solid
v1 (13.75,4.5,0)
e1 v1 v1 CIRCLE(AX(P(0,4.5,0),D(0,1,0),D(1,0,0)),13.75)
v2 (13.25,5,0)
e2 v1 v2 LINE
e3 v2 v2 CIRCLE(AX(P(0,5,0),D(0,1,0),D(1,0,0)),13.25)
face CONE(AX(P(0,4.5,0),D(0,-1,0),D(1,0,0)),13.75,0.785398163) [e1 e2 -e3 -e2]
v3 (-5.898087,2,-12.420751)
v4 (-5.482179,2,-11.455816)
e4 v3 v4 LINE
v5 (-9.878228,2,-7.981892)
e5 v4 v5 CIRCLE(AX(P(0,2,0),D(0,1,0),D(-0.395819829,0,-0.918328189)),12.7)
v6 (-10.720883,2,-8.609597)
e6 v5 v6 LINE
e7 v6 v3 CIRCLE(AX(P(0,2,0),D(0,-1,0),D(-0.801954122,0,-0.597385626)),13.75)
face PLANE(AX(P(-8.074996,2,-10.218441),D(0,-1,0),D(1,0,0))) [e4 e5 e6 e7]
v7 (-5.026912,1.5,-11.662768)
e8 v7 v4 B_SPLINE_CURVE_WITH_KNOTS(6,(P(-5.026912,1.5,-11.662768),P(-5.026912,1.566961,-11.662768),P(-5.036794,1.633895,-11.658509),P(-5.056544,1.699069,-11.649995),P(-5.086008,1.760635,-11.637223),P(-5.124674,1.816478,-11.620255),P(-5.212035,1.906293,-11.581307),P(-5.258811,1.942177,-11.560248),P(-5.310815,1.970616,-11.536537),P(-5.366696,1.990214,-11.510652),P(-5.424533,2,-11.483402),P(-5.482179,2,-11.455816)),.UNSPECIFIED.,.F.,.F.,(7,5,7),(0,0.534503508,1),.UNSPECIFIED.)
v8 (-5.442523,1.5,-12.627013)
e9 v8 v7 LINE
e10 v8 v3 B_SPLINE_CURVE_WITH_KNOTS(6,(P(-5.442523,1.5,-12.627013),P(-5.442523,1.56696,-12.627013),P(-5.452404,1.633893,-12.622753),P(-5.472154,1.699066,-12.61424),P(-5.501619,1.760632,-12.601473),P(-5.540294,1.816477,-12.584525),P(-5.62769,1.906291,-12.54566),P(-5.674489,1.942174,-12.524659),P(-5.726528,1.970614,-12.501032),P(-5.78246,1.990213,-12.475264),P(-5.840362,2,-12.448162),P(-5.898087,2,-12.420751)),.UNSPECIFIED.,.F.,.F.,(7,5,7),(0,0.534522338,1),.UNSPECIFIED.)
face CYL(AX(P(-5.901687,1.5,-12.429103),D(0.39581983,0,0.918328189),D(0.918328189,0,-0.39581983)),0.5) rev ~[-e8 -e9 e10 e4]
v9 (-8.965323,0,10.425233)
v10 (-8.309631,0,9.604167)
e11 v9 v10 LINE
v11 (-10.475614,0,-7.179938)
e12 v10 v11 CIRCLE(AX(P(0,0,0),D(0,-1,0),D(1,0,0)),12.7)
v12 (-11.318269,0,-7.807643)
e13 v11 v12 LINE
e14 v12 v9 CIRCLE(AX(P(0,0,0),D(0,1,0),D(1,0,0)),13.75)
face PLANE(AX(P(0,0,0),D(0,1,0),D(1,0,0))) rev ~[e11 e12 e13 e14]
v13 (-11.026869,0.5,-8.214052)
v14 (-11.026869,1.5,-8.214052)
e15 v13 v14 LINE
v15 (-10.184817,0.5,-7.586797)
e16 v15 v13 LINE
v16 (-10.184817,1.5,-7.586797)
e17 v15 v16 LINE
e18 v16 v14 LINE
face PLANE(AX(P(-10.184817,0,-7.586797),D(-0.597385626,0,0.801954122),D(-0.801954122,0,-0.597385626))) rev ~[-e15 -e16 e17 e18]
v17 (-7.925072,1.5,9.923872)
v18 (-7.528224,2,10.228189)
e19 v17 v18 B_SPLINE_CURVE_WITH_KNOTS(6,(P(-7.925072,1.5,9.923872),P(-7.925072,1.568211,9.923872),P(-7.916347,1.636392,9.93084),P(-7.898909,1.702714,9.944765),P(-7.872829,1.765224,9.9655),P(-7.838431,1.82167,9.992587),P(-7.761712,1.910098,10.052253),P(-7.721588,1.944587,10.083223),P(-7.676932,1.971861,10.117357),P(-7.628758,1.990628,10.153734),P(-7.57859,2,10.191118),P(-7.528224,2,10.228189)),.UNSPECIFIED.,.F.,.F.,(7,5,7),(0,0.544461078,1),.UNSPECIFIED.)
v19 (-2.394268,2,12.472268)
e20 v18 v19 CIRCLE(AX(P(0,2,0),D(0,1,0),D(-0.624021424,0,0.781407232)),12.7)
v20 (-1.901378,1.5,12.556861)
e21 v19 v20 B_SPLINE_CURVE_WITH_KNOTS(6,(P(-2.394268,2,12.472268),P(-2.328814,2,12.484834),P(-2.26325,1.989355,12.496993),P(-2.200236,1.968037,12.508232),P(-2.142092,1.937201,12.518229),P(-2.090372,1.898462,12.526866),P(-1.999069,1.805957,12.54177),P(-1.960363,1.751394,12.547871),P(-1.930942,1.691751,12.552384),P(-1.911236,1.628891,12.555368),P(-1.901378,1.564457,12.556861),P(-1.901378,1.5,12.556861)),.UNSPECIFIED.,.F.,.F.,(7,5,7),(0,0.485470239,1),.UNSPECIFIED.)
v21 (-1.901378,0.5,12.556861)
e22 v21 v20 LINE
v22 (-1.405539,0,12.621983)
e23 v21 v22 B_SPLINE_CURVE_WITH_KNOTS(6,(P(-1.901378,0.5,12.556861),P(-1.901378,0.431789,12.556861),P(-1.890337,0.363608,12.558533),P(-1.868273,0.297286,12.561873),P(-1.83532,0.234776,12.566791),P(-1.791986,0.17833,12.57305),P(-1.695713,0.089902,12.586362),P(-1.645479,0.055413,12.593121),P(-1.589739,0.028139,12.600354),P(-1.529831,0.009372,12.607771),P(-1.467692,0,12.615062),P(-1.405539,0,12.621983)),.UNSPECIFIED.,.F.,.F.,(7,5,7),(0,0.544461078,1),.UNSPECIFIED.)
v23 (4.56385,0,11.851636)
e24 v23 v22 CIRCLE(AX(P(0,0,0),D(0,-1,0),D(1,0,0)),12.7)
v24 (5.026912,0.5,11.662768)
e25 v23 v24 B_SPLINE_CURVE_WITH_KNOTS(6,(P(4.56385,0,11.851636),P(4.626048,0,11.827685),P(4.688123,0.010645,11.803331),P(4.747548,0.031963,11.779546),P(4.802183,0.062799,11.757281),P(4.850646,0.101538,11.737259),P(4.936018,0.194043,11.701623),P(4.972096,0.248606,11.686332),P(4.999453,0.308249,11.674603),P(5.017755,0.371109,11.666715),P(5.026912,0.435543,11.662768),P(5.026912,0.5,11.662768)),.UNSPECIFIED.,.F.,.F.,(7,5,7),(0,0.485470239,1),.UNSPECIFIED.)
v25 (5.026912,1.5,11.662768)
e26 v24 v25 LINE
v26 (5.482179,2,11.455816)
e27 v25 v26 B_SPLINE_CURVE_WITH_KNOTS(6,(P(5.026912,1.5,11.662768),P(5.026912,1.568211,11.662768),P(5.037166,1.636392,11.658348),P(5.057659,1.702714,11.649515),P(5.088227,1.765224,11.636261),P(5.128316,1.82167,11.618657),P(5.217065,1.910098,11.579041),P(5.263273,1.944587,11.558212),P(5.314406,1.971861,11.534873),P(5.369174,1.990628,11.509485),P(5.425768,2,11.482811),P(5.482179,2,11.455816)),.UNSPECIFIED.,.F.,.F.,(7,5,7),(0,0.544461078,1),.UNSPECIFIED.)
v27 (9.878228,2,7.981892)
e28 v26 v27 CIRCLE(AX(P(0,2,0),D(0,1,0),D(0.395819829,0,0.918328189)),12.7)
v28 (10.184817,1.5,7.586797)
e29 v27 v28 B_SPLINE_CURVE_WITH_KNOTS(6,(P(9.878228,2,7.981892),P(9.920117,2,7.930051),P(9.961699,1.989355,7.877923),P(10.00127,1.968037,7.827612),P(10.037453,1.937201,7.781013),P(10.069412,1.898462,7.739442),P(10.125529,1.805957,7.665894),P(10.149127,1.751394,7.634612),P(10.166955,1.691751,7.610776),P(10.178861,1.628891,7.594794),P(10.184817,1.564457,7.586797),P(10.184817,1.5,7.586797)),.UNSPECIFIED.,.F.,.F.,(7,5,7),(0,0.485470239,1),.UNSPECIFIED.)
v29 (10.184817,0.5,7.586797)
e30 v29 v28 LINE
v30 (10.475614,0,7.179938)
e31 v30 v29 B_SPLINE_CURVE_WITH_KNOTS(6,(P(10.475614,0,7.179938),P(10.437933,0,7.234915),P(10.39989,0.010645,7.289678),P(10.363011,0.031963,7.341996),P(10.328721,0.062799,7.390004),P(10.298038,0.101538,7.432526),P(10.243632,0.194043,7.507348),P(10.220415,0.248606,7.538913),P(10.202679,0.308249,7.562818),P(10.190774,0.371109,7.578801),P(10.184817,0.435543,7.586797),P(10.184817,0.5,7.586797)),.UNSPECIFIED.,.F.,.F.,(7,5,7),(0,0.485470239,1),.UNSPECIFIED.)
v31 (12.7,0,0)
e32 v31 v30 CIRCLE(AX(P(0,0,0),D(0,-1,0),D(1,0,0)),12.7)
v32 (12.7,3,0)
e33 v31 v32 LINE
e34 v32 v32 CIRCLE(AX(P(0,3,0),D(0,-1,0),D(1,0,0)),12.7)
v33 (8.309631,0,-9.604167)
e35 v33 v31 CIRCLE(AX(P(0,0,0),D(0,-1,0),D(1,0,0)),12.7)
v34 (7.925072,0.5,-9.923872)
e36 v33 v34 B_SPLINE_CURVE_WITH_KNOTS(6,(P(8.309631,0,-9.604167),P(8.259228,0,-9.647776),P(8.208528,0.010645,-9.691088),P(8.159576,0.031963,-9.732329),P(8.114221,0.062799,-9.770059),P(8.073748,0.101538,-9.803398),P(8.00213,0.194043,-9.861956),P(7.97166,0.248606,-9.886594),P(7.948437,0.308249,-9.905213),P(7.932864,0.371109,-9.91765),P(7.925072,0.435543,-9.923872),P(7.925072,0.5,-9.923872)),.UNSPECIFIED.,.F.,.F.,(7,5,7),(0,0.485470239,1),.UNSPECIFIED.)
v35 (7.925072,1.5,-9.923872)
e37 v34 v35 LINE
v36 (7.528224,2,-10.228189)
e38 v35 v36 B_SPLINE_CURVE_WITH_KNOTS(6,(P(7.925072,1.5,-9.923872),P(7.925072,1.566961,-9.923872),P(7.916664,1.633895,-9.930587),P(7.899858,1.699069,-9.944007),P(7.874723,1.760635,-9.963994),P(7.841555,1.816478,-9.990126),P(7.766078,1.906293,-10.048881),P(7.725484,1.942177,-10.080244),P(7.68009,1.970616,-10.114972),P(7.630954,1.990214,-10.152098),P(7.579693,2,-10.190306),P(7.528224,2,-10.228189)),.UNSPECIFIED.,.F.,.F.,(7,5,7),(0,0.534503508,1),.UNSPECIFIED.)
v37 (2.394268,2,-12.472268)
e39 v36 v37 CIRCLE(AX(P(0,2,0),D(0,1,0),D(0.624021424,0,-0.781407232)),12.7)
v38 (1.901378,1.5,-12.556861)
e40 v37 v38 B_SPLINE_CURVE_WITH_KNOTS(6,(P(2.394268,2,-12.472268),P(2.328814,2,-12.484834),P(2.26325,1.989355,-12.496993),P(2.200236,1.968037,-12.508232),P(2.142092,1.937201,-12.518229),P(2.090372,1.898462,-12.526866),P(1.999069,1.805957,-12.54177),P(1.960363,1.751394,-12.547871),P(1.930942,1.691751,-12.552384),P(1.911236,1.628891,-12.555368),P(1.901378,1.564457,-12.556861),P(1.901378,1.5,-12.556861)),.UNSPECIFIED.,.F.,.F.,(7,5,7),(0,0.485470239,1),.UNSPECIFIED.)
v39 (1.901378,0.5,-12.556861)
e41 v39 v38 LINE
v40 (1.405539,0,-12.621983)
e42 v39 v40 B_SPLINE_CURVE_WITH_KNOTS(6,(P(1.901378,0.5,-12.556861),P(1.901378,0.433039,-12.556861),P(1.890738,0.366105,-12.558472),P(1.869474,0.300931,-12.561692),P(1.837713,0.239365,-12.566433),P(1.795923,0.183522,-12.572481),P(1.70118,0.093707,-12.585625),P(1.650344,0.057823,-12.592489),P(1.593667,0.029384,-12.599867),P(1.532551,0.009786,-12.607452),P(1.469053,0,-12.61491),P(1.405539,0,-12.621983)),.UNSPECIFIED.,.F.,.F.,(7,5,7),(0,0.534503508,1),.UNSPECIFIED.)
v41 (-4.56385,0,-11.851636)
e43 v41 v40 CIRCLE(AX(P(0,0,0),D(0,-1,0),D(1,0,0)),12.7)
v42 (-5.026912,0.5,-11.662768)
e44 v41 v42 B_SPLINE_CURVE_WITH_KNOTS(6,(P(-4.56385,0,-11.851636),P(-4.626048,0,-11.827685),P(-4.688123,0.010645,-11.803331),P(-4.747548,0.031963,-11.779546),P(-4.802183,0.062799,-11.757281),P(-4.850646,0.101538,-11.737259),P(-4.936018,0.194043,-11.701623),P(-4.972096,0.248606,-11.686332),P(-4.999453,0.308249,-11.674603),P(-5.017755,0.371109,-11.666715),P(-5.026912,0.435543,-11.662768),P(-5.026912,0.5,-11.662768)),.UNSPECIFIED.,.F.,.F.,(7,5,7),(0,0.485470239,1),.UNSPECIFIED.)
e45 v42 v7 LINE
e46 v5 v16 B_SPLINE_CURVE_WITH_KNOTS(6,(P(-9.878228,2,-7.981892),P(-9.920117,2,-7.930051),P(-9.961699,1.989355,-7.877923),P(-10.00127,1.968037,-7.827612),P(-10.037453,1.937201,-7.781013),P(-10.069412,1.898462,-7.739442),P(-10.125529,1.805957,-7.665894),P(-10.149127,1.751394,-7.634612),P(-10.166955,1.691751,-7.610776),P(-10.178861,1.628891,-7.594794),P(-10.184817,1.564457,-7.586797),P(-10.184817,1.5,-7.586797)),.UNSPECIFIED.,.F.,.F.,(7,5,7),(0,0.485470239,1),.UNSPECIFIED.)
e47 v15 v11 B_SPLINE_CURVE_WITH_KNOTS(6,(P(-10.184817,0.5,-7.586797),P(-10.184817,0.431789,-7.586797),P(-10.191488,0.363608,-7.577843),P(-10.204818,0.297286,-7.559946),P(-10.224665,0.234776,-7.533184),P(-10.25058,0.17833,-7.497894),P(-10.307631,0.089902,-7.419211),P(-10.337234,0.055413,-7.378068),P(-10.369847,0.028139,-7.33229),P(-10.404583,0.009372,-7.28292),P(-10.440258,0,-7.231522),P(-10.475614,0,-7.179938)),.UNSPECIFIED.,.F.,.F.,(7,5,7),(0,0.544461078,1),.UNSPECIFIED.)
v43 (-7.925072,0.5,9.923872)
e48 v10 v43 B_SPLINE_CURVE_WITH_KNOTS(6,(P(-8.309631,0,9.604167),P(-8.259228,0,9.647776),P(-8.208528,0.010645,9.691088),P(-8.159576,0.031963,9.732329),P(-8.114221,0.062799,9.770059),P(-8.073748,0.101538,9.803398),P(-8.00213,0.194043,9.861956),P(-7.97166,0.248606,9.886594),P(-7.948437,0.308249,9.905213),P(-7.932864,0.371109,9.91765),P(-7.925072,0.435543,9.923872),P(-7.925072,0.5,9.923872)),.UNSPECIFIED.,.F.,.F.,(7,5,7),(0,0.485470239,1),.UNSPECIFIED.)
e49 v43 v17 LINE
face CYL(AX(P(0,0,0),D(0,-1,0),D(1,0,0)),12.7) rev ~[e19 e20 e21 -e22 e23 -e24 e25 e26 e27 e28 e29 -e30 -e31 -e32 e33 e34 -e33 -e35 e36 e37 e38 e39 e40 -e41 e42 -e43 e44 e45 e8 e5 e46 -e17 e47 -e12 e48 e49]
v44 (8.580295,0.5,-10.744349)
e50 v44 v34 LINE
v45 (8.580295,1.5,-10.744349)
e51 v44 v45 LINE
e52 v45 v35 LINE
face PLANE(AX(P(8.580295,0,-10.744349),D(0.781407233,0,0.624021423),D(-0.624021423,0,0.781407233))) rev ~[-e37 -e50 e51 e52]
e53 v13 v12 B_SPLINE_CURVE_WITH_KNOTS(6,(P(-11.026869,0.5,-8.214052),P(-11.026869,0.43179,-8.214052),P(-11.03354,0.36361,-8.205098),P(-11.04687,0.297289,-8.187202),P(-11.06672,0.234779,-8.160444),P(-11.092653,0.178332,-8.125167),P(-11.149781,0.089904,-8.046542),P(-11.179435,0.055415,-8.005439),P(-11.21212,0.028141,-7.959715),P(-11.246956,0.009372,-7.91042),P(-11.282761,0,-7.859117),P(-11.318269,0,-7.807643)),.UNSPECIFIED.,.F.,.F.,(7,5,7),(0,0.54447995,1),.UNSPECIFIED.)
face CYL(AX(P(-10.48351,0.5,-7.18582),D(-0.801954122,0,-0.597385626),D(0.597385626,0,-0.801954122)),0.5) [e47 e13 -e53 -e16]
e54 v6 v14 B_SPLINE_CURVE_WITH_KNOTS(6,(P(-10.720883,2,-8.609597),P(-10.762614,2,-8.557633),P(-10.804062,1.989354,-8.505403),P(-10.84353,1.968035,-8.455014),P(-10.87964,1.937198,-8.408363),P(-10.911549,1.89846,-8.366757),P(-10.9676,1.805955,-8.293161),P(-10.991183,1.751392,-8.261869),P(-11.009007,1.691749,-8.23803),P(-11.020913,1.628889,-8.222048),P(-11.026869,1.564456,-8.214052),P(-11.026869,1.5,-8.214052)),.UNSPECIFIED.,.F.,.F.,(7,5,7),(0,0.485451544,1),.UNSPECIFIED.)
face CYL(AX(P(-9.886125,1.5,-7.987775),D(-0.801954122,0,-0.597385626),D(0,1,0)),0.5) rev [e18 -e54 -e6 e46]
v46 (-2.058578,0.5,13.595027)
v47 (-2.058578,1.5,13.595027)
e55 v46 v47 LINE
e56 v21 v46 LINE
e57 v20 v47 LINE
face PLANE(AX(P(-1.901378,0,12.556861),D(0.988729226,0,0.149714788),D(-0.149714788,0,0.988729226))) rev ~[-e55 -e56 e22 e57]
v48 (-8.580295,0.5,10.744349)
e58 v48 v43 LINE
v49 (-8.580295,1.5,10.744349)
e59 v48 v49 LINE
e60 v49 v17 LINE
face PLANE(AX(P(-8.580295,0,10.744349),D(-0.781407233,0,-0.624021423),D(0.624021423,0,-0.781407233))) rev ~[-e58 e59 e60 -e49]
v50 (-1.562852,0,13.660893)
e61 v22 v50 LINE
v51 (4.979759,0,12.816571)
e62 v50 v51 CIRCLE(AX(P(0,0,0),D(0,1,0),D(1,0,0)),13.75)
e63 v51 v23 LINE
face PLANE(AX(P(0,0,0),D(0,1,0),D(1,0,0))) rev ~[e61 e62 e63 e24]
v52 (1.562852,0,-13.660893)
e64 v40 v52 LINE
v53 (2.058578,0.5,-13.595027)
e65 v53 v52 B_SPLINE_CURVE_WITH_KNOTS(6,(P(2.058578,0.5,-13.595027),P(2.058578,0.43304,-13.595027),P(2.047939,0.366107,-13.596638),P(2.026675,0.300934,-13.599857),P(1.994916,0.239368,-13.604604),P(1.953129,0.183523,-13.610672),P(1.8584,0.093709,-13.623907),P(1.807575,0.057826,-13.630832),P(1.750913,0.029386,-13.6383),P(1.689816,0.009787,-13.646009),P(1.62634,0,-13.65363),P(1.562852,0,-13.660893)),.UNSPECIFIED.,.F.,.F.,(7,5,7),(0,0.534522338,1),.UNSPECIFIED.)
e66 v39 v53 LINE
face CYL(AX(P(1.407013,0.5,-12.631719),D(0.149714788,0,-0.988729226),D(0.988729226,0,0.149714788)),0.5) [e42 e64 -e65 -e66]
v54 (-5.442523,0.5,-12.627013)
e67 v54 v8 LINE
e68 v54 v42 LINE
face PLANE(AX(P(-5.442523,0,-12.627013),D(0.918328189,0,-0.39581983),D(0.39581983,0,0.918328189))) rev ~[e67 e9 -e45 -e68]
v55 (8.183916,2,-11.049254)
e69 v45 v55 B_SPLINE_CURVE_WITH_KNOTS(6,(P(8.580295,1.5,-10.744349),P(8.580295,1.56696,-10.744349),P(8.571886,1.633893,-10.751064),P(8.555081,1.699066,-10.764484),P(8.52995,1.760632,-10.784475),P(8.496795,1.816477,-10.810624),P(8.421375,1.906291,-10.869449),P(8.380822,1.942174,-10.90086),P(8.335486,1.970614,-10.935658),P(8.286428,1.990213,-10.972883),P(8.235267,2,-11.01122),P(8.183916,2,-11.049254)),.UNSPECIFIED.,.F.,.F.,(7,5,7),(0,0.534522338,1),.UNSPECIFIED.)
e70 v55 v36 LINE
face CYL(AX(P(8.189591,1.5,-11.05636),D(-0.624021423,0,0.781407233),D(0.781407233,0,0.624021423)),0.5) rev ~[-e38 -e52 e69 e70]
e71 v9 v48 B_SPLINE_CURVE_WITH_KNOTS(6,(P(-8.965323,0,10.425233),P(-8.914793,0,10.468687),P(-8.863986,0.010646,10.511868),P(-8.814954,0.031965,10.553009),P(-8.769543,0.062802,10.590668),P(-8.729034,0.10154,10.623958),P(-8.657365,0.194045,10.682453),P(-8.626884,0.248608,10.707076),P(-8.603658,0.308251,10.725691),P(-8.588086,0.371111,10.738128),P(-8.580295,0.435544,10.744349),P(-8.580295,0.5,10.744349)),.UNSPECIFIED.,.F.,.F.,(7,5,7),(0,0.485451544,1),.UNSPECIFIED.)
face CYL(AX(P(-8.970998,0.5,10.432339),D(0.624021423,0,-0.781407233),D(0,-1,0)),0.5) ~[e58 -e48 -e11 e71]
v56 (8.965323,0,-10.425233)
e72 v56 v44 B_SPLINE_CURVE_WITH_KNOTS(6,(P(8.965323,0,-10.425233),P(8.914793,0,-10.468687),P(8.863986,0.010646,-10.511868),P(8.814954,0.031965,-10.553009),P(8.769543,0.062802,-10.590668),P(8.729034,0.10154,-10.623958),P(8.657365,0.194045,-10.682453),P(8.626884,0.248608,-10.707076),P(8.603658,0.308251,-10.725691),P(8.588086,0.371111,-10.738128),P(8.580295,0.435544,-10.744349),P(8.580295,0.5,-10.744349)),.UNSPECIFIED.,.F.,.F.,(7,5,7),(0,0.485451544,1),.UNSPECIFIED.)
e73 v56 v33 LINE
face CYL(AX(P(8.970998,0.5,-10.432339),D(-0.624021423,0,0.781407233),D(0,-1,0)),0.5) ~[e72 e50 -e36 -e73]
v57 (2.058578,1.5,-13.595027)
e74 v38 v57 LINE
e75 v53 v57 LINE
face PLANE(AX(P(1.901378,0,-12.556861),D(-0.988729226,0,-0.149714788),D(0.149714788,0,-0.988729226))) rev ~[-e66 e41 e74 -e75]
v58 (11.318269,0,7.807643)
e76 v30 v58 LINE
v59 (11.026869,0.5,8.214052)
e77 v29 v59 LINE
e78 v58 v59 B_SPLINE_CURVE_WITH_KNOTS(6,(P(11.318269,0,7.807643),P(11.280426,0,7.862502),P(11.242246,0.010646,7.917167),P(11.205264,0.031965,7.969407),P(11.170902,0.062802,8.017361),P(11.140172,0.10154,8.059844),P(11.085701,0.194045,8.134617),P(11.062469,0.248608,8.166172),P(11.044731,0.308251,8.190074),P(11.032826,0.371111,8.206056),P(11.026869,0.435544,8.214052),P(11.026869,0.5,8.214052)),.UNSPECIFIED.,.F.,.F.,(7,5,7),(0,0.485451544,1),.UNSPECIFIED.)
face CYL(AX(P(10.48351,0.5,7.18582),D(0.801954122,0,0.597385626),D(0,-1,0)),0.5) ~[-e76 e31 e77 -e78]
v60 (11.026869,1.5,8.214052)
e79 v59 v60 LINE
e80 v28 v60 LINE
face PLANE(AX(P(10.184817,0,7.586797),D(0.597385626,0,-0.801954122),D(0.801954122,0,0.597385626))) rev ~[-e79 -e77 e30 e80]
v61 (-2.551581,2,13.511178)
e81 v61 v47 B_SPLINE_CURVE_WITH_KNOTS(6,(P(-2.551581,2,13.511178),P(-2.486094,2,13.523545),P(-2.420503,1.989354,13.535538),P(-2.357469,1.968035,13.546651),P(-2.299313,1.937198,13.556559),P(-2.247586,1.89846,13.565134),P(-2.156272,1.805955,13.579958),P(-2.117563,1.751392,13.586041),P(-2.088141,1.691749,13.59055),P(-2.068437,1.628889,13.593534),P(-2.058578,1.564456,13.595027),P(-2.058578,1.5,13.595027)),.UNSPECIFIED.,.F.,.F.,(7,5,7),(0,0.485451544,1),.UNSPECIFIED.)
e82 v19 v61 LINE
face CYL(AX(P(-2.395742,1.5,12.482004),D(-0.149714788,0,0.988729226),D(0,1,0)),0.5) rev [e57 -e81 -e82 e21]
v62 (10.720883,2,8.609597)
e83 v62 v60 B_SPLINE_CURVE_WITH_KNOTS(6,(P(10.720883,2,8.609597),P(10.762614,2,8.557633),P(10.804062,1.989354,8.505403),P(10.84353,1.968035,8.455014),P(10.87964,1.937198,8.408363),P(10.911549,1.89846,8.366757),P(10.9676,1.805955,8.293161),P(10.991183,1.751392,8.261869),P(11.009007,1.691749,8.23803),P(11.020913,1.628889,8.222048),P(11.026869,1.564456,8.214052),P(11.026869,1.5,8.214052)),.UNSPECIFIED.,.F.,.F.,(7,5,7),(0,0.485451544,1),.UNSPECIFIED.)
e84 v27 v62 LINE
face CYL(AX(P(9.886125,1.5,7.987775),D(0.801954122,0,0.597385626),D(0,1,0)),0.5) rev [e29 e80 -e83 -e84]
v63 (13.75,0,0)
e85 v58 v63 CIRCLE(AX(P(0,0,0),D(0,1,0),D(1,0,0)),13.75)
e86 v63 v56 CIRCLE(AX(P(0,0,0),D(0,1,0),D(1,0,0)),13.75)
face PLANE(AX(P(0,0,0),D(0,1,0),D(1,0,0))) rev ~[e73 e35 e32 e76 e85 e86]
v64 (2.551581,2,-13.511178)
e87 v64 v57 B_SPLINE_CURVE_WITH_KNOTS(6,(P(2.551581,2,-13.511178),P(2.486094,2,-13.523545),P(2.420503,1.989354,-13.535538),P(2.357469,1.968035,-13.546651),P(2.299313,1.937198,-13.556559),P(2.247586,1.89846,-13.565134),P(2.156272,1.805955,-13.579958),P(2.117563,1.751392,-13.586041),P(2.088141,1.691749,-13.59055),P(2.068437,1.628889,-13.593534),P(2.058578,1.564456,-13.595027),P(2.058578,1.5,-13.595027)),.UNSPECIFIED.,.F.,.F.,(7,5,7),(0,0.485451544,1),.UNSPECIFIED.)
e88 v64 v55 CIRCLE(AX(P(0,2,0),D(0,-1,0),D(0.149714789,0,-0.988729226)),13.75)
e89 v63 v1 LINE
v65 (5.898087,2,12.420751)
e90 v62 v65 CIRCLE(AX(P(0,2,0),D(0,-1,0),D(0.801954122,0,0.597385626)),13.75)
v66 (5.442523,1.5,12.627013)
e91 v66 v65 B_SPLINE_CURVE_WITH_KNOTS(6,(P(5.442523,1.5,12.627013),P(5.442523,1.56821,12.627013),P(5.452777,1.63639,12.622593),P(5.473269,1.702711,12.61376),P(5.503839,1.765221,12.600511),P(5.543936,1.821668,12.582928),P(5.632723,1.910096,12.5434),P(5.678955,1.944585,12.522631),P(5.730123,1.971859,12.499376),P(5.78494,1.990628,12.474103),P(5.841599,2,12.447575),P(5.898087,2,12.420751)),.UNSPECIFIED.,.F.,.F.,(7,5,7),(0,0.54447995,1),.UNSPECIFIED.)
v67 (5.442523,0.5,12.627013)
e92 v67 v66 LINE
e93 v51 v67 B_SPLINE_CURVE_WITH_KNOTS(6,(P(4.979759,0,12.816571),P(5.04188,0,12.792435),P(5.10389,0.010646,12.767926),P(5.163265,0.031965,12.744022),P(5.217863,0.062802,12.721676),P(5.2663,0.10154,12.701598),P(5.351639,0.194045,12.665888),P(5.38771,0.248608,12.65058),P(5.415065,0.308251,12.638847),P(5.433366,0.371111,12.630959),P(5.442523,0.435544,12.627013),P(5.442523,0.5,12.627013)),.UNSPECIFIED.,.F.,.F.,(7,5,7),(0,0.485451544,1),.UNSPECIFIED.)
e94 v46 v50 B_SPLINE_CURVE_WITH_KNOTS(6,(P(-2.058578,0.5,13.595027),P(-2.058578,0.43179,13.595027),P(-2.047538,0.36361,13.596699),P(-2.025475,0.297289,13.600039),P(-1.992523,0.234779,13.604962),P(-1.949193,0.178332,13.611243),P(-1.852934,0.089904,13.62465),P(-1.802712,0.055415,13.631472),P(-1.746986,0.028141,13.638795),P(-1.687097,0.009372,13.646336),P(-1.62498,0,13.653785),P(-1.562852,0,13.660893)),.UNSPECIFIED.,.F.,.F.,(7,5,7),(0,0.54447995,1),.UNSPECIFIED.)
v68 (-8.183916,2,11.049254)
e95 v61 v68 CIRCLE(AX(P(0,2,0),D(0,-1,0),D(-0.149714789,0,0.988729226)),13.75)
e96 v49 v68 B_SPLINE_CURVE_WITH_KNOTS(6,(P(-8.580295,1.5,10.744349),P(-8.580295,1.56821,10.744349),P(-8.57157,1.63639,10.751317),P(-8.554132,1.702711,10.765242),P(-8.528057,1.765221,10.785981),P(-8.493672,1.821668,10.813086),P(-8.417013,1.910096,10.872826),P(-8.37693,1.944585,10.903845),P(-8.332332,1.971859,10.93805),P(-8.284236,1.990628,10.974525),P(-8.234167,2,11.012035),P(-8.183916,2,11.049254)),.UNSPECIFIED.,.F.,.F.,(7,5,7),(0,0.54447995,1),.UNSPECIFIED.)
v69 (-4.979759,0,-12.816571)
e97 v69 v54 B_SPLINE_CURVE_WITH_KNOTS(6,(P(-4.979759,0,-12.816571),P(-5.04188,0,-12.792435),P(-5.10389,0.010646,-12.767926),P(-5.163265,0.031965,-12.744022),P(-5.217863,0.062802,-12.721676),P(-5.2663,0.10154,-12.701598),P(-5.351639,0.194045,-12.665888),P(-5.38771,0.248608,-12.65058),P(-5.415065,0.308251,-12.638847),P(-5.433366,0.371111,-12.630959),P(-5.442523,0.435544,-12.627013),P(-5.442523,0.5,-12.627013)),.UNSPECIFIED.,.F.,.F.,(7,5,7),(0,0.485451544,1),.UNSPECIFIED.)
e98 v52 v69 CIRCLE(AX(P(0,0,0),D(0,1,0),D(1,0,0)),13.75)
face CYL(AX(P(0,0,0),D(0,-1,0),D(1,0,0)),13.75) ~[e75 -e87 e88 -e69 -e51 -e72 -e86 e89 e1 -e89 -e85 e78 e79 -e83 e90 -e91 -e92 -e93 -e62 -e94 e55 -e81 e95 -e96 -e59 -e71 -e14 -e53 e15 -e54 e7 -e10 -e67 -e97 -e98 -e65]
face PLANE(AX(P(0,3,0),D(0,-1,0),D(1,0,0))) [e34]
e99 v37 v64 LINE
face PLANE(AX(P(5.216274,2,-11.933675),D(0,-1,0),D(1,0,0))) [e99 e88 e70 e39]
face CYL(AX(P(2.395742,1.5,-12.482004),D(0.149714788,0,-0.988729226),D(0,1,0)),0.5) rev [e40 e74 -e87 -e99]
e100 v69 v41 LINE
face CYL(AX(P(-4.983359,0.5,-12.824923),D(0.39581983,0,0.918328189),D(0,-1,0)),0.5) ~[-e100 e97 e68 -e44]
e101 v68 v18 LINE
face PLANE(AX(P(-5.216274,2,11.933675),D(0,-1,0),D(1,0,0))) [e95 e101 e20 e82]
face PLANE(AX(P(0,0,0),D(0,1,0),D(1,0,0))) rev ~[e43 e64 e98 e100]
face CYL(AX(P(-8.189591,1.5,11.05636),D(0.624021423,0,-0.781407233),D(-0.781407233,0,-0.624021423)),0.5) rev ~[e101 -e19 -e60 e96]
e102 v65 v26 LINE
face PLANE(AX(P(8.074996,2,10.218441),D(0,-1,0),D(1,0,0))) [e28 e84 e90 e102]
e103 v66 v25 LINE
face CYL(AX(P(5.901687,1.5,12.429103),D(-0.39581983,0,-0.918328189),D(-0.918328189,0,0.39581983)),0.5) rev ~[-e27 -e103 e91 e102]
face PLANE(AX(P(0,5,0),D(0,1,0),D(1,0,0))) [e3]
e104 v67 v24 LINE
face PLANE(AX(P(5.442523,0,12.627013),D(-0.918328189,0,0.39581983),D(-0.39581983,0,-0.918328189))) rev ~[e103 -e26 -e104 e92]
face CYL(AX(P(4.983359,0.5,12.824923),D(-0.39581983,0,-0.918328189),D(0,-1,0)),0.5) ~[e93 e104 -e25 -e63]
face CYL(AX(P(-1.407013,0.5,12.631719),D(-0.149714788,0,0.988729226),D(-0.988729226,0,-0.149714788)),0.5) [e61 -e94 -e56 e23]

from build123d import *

# Parameters (mm, degrees)
SKETCH1_R           = 13.75
BOSS_EXTRUDE1_DEPTH = 5
SKETCH2_R           = 12.7
CUT_EXTRUDE1_DEPTH  = 3
CHAMFER1_SIZE       = 0.5
CUT_EXTRUDE2_DEPTH  = 2
FILLET1_R           = 0.5


with BuildPart() as part:
    # Sketch1 → Boss-Extrude1 (new body)
    with BuildSketch(Plane(origin=(0, 0, 0), x_dir=(1, 0, 0), z_dir=(0, 1, 0))):
        Circle(SKETCH1_R)
    extrude(amount=BOSS_EXTRUDE1_DEPTH)

    # Sketch2 → Cut-Extrude1 (cut)
    with BuildSketch(Plane.XZ):
        Circle(SKETCH2_R)
    extrude(amount=-CUT_EXTRUDE1_DEPTH, mode=Mode.SUBTRACT)

    # Chamfer1
    chamfer1_edges = [part.edges().sort_by_distance(p)[0] for p in [
        (-13.75, 5, 0),
    ]]
    chamfer(chamfer1_edges, length=CHAMFER1_SIZE)

    # Sketch4 → Cut-Extrude2 (cut)
    with BuildSketch(Plane.XZ):
        with BuildLine():
            Line((8.580294574, -10.744349446), (7.92507208, -9.923871852))
            ThreePointArc((7.92507208, -9.923871852), (5.08654476, -11.636883707), (1.901377822, -12.556861167))
            Line((1.901377822, -12.556861167), (2.05857835, -13.595026855))
            ThreePointArc((2.05857835, -13.595026855), (5.507085863, -12.598988265), (8.580294574, -10.744349446))
        make_face()
        with BuildLine():
            Line((-5.442522653, -12.627012599), (-5.026911832, -11.662768001))
            ThreePointArc((-5.026911832, -11.662768001), (-7.874170442, -9.964308298), (-10.184817349, -7.586797451))
            Line((-10.184817349, -7.586797451), (-11.026869177, -8.214052358))
            ThreePointArc((-11.026869177, -8.214052358), (-8.525184534, -10.788129062), (-5.442522653, -12.627012599))
        make_face()
        with BuildLine():
            Line((-8.580294574, 10.744349446), (-7.92507208, 9.923871852))
            ThreePointArc((-7.92507208, 9.923871852), (-5.08654476, 11.636883707), (-1.901377822, 12.556861167))
            Line((-1.901377822, 12.556861167), (-2.05857835, 13.595026855))
            ThreePointArc((-2.05857835, 13.595026855), (-5.507085863, 12.598988265), (-8.580294574, 10.744349446))
        make_face()
        with BuildLine():
            Line((5.442522653, 12.627012599), (5.026911832, 11.662768001))
            ThreePointArc((5.026911832, 11.662768001), (7.874170442, 9.964308298), (10.184817349, 7.586797451))
            Line((10.184817349, 7.586797451), (11.026869177, 8.214052358))
            ThreePointArc((11.026869177, 8.214052358), (8.525184534, 10.788129062), (5.442522653, 12.627012599))
        make_face()
    extrude(amount=-CUT_EXTRUDE2_DEPTH, mode=Mode.SUBTRACT)

    # Fillet1
    fillet1_edges = [part.edges().sort_by_distance(p)[0] for p in [
        (5.234717242, 0, 12.1448903),
        (10.605843263, 2, 7.900424905),
        (5.234717242, 2, 12.1448903),
        (10.605843263, 0, 7.900424905),
        (-8.252683327, 0, 10.334110649),
        (-1.979978086, 2, 13.075944011),
        (-8.252683327, 2, 10.334110649),
        (-1.979978086, 0, 13.075944011),
        (-5.234717242, 0, -12.1448903),
        (-10.605843263, 2, -7.900424905),
        (-5.234717242, 2, -12.1448903),
        (-10.605843263, 0, -7.900424905),
        (8.252683327, 0, -10.334110649),
        (1.979978086, 2, -13.075944011),
        (8.252683327, 2, -10.334110649),
        (1.979978086, 0, -13.075944011),
    ]]
    fillet(fillet1_edges, radius=FILLET1_R)


solid = part.part
